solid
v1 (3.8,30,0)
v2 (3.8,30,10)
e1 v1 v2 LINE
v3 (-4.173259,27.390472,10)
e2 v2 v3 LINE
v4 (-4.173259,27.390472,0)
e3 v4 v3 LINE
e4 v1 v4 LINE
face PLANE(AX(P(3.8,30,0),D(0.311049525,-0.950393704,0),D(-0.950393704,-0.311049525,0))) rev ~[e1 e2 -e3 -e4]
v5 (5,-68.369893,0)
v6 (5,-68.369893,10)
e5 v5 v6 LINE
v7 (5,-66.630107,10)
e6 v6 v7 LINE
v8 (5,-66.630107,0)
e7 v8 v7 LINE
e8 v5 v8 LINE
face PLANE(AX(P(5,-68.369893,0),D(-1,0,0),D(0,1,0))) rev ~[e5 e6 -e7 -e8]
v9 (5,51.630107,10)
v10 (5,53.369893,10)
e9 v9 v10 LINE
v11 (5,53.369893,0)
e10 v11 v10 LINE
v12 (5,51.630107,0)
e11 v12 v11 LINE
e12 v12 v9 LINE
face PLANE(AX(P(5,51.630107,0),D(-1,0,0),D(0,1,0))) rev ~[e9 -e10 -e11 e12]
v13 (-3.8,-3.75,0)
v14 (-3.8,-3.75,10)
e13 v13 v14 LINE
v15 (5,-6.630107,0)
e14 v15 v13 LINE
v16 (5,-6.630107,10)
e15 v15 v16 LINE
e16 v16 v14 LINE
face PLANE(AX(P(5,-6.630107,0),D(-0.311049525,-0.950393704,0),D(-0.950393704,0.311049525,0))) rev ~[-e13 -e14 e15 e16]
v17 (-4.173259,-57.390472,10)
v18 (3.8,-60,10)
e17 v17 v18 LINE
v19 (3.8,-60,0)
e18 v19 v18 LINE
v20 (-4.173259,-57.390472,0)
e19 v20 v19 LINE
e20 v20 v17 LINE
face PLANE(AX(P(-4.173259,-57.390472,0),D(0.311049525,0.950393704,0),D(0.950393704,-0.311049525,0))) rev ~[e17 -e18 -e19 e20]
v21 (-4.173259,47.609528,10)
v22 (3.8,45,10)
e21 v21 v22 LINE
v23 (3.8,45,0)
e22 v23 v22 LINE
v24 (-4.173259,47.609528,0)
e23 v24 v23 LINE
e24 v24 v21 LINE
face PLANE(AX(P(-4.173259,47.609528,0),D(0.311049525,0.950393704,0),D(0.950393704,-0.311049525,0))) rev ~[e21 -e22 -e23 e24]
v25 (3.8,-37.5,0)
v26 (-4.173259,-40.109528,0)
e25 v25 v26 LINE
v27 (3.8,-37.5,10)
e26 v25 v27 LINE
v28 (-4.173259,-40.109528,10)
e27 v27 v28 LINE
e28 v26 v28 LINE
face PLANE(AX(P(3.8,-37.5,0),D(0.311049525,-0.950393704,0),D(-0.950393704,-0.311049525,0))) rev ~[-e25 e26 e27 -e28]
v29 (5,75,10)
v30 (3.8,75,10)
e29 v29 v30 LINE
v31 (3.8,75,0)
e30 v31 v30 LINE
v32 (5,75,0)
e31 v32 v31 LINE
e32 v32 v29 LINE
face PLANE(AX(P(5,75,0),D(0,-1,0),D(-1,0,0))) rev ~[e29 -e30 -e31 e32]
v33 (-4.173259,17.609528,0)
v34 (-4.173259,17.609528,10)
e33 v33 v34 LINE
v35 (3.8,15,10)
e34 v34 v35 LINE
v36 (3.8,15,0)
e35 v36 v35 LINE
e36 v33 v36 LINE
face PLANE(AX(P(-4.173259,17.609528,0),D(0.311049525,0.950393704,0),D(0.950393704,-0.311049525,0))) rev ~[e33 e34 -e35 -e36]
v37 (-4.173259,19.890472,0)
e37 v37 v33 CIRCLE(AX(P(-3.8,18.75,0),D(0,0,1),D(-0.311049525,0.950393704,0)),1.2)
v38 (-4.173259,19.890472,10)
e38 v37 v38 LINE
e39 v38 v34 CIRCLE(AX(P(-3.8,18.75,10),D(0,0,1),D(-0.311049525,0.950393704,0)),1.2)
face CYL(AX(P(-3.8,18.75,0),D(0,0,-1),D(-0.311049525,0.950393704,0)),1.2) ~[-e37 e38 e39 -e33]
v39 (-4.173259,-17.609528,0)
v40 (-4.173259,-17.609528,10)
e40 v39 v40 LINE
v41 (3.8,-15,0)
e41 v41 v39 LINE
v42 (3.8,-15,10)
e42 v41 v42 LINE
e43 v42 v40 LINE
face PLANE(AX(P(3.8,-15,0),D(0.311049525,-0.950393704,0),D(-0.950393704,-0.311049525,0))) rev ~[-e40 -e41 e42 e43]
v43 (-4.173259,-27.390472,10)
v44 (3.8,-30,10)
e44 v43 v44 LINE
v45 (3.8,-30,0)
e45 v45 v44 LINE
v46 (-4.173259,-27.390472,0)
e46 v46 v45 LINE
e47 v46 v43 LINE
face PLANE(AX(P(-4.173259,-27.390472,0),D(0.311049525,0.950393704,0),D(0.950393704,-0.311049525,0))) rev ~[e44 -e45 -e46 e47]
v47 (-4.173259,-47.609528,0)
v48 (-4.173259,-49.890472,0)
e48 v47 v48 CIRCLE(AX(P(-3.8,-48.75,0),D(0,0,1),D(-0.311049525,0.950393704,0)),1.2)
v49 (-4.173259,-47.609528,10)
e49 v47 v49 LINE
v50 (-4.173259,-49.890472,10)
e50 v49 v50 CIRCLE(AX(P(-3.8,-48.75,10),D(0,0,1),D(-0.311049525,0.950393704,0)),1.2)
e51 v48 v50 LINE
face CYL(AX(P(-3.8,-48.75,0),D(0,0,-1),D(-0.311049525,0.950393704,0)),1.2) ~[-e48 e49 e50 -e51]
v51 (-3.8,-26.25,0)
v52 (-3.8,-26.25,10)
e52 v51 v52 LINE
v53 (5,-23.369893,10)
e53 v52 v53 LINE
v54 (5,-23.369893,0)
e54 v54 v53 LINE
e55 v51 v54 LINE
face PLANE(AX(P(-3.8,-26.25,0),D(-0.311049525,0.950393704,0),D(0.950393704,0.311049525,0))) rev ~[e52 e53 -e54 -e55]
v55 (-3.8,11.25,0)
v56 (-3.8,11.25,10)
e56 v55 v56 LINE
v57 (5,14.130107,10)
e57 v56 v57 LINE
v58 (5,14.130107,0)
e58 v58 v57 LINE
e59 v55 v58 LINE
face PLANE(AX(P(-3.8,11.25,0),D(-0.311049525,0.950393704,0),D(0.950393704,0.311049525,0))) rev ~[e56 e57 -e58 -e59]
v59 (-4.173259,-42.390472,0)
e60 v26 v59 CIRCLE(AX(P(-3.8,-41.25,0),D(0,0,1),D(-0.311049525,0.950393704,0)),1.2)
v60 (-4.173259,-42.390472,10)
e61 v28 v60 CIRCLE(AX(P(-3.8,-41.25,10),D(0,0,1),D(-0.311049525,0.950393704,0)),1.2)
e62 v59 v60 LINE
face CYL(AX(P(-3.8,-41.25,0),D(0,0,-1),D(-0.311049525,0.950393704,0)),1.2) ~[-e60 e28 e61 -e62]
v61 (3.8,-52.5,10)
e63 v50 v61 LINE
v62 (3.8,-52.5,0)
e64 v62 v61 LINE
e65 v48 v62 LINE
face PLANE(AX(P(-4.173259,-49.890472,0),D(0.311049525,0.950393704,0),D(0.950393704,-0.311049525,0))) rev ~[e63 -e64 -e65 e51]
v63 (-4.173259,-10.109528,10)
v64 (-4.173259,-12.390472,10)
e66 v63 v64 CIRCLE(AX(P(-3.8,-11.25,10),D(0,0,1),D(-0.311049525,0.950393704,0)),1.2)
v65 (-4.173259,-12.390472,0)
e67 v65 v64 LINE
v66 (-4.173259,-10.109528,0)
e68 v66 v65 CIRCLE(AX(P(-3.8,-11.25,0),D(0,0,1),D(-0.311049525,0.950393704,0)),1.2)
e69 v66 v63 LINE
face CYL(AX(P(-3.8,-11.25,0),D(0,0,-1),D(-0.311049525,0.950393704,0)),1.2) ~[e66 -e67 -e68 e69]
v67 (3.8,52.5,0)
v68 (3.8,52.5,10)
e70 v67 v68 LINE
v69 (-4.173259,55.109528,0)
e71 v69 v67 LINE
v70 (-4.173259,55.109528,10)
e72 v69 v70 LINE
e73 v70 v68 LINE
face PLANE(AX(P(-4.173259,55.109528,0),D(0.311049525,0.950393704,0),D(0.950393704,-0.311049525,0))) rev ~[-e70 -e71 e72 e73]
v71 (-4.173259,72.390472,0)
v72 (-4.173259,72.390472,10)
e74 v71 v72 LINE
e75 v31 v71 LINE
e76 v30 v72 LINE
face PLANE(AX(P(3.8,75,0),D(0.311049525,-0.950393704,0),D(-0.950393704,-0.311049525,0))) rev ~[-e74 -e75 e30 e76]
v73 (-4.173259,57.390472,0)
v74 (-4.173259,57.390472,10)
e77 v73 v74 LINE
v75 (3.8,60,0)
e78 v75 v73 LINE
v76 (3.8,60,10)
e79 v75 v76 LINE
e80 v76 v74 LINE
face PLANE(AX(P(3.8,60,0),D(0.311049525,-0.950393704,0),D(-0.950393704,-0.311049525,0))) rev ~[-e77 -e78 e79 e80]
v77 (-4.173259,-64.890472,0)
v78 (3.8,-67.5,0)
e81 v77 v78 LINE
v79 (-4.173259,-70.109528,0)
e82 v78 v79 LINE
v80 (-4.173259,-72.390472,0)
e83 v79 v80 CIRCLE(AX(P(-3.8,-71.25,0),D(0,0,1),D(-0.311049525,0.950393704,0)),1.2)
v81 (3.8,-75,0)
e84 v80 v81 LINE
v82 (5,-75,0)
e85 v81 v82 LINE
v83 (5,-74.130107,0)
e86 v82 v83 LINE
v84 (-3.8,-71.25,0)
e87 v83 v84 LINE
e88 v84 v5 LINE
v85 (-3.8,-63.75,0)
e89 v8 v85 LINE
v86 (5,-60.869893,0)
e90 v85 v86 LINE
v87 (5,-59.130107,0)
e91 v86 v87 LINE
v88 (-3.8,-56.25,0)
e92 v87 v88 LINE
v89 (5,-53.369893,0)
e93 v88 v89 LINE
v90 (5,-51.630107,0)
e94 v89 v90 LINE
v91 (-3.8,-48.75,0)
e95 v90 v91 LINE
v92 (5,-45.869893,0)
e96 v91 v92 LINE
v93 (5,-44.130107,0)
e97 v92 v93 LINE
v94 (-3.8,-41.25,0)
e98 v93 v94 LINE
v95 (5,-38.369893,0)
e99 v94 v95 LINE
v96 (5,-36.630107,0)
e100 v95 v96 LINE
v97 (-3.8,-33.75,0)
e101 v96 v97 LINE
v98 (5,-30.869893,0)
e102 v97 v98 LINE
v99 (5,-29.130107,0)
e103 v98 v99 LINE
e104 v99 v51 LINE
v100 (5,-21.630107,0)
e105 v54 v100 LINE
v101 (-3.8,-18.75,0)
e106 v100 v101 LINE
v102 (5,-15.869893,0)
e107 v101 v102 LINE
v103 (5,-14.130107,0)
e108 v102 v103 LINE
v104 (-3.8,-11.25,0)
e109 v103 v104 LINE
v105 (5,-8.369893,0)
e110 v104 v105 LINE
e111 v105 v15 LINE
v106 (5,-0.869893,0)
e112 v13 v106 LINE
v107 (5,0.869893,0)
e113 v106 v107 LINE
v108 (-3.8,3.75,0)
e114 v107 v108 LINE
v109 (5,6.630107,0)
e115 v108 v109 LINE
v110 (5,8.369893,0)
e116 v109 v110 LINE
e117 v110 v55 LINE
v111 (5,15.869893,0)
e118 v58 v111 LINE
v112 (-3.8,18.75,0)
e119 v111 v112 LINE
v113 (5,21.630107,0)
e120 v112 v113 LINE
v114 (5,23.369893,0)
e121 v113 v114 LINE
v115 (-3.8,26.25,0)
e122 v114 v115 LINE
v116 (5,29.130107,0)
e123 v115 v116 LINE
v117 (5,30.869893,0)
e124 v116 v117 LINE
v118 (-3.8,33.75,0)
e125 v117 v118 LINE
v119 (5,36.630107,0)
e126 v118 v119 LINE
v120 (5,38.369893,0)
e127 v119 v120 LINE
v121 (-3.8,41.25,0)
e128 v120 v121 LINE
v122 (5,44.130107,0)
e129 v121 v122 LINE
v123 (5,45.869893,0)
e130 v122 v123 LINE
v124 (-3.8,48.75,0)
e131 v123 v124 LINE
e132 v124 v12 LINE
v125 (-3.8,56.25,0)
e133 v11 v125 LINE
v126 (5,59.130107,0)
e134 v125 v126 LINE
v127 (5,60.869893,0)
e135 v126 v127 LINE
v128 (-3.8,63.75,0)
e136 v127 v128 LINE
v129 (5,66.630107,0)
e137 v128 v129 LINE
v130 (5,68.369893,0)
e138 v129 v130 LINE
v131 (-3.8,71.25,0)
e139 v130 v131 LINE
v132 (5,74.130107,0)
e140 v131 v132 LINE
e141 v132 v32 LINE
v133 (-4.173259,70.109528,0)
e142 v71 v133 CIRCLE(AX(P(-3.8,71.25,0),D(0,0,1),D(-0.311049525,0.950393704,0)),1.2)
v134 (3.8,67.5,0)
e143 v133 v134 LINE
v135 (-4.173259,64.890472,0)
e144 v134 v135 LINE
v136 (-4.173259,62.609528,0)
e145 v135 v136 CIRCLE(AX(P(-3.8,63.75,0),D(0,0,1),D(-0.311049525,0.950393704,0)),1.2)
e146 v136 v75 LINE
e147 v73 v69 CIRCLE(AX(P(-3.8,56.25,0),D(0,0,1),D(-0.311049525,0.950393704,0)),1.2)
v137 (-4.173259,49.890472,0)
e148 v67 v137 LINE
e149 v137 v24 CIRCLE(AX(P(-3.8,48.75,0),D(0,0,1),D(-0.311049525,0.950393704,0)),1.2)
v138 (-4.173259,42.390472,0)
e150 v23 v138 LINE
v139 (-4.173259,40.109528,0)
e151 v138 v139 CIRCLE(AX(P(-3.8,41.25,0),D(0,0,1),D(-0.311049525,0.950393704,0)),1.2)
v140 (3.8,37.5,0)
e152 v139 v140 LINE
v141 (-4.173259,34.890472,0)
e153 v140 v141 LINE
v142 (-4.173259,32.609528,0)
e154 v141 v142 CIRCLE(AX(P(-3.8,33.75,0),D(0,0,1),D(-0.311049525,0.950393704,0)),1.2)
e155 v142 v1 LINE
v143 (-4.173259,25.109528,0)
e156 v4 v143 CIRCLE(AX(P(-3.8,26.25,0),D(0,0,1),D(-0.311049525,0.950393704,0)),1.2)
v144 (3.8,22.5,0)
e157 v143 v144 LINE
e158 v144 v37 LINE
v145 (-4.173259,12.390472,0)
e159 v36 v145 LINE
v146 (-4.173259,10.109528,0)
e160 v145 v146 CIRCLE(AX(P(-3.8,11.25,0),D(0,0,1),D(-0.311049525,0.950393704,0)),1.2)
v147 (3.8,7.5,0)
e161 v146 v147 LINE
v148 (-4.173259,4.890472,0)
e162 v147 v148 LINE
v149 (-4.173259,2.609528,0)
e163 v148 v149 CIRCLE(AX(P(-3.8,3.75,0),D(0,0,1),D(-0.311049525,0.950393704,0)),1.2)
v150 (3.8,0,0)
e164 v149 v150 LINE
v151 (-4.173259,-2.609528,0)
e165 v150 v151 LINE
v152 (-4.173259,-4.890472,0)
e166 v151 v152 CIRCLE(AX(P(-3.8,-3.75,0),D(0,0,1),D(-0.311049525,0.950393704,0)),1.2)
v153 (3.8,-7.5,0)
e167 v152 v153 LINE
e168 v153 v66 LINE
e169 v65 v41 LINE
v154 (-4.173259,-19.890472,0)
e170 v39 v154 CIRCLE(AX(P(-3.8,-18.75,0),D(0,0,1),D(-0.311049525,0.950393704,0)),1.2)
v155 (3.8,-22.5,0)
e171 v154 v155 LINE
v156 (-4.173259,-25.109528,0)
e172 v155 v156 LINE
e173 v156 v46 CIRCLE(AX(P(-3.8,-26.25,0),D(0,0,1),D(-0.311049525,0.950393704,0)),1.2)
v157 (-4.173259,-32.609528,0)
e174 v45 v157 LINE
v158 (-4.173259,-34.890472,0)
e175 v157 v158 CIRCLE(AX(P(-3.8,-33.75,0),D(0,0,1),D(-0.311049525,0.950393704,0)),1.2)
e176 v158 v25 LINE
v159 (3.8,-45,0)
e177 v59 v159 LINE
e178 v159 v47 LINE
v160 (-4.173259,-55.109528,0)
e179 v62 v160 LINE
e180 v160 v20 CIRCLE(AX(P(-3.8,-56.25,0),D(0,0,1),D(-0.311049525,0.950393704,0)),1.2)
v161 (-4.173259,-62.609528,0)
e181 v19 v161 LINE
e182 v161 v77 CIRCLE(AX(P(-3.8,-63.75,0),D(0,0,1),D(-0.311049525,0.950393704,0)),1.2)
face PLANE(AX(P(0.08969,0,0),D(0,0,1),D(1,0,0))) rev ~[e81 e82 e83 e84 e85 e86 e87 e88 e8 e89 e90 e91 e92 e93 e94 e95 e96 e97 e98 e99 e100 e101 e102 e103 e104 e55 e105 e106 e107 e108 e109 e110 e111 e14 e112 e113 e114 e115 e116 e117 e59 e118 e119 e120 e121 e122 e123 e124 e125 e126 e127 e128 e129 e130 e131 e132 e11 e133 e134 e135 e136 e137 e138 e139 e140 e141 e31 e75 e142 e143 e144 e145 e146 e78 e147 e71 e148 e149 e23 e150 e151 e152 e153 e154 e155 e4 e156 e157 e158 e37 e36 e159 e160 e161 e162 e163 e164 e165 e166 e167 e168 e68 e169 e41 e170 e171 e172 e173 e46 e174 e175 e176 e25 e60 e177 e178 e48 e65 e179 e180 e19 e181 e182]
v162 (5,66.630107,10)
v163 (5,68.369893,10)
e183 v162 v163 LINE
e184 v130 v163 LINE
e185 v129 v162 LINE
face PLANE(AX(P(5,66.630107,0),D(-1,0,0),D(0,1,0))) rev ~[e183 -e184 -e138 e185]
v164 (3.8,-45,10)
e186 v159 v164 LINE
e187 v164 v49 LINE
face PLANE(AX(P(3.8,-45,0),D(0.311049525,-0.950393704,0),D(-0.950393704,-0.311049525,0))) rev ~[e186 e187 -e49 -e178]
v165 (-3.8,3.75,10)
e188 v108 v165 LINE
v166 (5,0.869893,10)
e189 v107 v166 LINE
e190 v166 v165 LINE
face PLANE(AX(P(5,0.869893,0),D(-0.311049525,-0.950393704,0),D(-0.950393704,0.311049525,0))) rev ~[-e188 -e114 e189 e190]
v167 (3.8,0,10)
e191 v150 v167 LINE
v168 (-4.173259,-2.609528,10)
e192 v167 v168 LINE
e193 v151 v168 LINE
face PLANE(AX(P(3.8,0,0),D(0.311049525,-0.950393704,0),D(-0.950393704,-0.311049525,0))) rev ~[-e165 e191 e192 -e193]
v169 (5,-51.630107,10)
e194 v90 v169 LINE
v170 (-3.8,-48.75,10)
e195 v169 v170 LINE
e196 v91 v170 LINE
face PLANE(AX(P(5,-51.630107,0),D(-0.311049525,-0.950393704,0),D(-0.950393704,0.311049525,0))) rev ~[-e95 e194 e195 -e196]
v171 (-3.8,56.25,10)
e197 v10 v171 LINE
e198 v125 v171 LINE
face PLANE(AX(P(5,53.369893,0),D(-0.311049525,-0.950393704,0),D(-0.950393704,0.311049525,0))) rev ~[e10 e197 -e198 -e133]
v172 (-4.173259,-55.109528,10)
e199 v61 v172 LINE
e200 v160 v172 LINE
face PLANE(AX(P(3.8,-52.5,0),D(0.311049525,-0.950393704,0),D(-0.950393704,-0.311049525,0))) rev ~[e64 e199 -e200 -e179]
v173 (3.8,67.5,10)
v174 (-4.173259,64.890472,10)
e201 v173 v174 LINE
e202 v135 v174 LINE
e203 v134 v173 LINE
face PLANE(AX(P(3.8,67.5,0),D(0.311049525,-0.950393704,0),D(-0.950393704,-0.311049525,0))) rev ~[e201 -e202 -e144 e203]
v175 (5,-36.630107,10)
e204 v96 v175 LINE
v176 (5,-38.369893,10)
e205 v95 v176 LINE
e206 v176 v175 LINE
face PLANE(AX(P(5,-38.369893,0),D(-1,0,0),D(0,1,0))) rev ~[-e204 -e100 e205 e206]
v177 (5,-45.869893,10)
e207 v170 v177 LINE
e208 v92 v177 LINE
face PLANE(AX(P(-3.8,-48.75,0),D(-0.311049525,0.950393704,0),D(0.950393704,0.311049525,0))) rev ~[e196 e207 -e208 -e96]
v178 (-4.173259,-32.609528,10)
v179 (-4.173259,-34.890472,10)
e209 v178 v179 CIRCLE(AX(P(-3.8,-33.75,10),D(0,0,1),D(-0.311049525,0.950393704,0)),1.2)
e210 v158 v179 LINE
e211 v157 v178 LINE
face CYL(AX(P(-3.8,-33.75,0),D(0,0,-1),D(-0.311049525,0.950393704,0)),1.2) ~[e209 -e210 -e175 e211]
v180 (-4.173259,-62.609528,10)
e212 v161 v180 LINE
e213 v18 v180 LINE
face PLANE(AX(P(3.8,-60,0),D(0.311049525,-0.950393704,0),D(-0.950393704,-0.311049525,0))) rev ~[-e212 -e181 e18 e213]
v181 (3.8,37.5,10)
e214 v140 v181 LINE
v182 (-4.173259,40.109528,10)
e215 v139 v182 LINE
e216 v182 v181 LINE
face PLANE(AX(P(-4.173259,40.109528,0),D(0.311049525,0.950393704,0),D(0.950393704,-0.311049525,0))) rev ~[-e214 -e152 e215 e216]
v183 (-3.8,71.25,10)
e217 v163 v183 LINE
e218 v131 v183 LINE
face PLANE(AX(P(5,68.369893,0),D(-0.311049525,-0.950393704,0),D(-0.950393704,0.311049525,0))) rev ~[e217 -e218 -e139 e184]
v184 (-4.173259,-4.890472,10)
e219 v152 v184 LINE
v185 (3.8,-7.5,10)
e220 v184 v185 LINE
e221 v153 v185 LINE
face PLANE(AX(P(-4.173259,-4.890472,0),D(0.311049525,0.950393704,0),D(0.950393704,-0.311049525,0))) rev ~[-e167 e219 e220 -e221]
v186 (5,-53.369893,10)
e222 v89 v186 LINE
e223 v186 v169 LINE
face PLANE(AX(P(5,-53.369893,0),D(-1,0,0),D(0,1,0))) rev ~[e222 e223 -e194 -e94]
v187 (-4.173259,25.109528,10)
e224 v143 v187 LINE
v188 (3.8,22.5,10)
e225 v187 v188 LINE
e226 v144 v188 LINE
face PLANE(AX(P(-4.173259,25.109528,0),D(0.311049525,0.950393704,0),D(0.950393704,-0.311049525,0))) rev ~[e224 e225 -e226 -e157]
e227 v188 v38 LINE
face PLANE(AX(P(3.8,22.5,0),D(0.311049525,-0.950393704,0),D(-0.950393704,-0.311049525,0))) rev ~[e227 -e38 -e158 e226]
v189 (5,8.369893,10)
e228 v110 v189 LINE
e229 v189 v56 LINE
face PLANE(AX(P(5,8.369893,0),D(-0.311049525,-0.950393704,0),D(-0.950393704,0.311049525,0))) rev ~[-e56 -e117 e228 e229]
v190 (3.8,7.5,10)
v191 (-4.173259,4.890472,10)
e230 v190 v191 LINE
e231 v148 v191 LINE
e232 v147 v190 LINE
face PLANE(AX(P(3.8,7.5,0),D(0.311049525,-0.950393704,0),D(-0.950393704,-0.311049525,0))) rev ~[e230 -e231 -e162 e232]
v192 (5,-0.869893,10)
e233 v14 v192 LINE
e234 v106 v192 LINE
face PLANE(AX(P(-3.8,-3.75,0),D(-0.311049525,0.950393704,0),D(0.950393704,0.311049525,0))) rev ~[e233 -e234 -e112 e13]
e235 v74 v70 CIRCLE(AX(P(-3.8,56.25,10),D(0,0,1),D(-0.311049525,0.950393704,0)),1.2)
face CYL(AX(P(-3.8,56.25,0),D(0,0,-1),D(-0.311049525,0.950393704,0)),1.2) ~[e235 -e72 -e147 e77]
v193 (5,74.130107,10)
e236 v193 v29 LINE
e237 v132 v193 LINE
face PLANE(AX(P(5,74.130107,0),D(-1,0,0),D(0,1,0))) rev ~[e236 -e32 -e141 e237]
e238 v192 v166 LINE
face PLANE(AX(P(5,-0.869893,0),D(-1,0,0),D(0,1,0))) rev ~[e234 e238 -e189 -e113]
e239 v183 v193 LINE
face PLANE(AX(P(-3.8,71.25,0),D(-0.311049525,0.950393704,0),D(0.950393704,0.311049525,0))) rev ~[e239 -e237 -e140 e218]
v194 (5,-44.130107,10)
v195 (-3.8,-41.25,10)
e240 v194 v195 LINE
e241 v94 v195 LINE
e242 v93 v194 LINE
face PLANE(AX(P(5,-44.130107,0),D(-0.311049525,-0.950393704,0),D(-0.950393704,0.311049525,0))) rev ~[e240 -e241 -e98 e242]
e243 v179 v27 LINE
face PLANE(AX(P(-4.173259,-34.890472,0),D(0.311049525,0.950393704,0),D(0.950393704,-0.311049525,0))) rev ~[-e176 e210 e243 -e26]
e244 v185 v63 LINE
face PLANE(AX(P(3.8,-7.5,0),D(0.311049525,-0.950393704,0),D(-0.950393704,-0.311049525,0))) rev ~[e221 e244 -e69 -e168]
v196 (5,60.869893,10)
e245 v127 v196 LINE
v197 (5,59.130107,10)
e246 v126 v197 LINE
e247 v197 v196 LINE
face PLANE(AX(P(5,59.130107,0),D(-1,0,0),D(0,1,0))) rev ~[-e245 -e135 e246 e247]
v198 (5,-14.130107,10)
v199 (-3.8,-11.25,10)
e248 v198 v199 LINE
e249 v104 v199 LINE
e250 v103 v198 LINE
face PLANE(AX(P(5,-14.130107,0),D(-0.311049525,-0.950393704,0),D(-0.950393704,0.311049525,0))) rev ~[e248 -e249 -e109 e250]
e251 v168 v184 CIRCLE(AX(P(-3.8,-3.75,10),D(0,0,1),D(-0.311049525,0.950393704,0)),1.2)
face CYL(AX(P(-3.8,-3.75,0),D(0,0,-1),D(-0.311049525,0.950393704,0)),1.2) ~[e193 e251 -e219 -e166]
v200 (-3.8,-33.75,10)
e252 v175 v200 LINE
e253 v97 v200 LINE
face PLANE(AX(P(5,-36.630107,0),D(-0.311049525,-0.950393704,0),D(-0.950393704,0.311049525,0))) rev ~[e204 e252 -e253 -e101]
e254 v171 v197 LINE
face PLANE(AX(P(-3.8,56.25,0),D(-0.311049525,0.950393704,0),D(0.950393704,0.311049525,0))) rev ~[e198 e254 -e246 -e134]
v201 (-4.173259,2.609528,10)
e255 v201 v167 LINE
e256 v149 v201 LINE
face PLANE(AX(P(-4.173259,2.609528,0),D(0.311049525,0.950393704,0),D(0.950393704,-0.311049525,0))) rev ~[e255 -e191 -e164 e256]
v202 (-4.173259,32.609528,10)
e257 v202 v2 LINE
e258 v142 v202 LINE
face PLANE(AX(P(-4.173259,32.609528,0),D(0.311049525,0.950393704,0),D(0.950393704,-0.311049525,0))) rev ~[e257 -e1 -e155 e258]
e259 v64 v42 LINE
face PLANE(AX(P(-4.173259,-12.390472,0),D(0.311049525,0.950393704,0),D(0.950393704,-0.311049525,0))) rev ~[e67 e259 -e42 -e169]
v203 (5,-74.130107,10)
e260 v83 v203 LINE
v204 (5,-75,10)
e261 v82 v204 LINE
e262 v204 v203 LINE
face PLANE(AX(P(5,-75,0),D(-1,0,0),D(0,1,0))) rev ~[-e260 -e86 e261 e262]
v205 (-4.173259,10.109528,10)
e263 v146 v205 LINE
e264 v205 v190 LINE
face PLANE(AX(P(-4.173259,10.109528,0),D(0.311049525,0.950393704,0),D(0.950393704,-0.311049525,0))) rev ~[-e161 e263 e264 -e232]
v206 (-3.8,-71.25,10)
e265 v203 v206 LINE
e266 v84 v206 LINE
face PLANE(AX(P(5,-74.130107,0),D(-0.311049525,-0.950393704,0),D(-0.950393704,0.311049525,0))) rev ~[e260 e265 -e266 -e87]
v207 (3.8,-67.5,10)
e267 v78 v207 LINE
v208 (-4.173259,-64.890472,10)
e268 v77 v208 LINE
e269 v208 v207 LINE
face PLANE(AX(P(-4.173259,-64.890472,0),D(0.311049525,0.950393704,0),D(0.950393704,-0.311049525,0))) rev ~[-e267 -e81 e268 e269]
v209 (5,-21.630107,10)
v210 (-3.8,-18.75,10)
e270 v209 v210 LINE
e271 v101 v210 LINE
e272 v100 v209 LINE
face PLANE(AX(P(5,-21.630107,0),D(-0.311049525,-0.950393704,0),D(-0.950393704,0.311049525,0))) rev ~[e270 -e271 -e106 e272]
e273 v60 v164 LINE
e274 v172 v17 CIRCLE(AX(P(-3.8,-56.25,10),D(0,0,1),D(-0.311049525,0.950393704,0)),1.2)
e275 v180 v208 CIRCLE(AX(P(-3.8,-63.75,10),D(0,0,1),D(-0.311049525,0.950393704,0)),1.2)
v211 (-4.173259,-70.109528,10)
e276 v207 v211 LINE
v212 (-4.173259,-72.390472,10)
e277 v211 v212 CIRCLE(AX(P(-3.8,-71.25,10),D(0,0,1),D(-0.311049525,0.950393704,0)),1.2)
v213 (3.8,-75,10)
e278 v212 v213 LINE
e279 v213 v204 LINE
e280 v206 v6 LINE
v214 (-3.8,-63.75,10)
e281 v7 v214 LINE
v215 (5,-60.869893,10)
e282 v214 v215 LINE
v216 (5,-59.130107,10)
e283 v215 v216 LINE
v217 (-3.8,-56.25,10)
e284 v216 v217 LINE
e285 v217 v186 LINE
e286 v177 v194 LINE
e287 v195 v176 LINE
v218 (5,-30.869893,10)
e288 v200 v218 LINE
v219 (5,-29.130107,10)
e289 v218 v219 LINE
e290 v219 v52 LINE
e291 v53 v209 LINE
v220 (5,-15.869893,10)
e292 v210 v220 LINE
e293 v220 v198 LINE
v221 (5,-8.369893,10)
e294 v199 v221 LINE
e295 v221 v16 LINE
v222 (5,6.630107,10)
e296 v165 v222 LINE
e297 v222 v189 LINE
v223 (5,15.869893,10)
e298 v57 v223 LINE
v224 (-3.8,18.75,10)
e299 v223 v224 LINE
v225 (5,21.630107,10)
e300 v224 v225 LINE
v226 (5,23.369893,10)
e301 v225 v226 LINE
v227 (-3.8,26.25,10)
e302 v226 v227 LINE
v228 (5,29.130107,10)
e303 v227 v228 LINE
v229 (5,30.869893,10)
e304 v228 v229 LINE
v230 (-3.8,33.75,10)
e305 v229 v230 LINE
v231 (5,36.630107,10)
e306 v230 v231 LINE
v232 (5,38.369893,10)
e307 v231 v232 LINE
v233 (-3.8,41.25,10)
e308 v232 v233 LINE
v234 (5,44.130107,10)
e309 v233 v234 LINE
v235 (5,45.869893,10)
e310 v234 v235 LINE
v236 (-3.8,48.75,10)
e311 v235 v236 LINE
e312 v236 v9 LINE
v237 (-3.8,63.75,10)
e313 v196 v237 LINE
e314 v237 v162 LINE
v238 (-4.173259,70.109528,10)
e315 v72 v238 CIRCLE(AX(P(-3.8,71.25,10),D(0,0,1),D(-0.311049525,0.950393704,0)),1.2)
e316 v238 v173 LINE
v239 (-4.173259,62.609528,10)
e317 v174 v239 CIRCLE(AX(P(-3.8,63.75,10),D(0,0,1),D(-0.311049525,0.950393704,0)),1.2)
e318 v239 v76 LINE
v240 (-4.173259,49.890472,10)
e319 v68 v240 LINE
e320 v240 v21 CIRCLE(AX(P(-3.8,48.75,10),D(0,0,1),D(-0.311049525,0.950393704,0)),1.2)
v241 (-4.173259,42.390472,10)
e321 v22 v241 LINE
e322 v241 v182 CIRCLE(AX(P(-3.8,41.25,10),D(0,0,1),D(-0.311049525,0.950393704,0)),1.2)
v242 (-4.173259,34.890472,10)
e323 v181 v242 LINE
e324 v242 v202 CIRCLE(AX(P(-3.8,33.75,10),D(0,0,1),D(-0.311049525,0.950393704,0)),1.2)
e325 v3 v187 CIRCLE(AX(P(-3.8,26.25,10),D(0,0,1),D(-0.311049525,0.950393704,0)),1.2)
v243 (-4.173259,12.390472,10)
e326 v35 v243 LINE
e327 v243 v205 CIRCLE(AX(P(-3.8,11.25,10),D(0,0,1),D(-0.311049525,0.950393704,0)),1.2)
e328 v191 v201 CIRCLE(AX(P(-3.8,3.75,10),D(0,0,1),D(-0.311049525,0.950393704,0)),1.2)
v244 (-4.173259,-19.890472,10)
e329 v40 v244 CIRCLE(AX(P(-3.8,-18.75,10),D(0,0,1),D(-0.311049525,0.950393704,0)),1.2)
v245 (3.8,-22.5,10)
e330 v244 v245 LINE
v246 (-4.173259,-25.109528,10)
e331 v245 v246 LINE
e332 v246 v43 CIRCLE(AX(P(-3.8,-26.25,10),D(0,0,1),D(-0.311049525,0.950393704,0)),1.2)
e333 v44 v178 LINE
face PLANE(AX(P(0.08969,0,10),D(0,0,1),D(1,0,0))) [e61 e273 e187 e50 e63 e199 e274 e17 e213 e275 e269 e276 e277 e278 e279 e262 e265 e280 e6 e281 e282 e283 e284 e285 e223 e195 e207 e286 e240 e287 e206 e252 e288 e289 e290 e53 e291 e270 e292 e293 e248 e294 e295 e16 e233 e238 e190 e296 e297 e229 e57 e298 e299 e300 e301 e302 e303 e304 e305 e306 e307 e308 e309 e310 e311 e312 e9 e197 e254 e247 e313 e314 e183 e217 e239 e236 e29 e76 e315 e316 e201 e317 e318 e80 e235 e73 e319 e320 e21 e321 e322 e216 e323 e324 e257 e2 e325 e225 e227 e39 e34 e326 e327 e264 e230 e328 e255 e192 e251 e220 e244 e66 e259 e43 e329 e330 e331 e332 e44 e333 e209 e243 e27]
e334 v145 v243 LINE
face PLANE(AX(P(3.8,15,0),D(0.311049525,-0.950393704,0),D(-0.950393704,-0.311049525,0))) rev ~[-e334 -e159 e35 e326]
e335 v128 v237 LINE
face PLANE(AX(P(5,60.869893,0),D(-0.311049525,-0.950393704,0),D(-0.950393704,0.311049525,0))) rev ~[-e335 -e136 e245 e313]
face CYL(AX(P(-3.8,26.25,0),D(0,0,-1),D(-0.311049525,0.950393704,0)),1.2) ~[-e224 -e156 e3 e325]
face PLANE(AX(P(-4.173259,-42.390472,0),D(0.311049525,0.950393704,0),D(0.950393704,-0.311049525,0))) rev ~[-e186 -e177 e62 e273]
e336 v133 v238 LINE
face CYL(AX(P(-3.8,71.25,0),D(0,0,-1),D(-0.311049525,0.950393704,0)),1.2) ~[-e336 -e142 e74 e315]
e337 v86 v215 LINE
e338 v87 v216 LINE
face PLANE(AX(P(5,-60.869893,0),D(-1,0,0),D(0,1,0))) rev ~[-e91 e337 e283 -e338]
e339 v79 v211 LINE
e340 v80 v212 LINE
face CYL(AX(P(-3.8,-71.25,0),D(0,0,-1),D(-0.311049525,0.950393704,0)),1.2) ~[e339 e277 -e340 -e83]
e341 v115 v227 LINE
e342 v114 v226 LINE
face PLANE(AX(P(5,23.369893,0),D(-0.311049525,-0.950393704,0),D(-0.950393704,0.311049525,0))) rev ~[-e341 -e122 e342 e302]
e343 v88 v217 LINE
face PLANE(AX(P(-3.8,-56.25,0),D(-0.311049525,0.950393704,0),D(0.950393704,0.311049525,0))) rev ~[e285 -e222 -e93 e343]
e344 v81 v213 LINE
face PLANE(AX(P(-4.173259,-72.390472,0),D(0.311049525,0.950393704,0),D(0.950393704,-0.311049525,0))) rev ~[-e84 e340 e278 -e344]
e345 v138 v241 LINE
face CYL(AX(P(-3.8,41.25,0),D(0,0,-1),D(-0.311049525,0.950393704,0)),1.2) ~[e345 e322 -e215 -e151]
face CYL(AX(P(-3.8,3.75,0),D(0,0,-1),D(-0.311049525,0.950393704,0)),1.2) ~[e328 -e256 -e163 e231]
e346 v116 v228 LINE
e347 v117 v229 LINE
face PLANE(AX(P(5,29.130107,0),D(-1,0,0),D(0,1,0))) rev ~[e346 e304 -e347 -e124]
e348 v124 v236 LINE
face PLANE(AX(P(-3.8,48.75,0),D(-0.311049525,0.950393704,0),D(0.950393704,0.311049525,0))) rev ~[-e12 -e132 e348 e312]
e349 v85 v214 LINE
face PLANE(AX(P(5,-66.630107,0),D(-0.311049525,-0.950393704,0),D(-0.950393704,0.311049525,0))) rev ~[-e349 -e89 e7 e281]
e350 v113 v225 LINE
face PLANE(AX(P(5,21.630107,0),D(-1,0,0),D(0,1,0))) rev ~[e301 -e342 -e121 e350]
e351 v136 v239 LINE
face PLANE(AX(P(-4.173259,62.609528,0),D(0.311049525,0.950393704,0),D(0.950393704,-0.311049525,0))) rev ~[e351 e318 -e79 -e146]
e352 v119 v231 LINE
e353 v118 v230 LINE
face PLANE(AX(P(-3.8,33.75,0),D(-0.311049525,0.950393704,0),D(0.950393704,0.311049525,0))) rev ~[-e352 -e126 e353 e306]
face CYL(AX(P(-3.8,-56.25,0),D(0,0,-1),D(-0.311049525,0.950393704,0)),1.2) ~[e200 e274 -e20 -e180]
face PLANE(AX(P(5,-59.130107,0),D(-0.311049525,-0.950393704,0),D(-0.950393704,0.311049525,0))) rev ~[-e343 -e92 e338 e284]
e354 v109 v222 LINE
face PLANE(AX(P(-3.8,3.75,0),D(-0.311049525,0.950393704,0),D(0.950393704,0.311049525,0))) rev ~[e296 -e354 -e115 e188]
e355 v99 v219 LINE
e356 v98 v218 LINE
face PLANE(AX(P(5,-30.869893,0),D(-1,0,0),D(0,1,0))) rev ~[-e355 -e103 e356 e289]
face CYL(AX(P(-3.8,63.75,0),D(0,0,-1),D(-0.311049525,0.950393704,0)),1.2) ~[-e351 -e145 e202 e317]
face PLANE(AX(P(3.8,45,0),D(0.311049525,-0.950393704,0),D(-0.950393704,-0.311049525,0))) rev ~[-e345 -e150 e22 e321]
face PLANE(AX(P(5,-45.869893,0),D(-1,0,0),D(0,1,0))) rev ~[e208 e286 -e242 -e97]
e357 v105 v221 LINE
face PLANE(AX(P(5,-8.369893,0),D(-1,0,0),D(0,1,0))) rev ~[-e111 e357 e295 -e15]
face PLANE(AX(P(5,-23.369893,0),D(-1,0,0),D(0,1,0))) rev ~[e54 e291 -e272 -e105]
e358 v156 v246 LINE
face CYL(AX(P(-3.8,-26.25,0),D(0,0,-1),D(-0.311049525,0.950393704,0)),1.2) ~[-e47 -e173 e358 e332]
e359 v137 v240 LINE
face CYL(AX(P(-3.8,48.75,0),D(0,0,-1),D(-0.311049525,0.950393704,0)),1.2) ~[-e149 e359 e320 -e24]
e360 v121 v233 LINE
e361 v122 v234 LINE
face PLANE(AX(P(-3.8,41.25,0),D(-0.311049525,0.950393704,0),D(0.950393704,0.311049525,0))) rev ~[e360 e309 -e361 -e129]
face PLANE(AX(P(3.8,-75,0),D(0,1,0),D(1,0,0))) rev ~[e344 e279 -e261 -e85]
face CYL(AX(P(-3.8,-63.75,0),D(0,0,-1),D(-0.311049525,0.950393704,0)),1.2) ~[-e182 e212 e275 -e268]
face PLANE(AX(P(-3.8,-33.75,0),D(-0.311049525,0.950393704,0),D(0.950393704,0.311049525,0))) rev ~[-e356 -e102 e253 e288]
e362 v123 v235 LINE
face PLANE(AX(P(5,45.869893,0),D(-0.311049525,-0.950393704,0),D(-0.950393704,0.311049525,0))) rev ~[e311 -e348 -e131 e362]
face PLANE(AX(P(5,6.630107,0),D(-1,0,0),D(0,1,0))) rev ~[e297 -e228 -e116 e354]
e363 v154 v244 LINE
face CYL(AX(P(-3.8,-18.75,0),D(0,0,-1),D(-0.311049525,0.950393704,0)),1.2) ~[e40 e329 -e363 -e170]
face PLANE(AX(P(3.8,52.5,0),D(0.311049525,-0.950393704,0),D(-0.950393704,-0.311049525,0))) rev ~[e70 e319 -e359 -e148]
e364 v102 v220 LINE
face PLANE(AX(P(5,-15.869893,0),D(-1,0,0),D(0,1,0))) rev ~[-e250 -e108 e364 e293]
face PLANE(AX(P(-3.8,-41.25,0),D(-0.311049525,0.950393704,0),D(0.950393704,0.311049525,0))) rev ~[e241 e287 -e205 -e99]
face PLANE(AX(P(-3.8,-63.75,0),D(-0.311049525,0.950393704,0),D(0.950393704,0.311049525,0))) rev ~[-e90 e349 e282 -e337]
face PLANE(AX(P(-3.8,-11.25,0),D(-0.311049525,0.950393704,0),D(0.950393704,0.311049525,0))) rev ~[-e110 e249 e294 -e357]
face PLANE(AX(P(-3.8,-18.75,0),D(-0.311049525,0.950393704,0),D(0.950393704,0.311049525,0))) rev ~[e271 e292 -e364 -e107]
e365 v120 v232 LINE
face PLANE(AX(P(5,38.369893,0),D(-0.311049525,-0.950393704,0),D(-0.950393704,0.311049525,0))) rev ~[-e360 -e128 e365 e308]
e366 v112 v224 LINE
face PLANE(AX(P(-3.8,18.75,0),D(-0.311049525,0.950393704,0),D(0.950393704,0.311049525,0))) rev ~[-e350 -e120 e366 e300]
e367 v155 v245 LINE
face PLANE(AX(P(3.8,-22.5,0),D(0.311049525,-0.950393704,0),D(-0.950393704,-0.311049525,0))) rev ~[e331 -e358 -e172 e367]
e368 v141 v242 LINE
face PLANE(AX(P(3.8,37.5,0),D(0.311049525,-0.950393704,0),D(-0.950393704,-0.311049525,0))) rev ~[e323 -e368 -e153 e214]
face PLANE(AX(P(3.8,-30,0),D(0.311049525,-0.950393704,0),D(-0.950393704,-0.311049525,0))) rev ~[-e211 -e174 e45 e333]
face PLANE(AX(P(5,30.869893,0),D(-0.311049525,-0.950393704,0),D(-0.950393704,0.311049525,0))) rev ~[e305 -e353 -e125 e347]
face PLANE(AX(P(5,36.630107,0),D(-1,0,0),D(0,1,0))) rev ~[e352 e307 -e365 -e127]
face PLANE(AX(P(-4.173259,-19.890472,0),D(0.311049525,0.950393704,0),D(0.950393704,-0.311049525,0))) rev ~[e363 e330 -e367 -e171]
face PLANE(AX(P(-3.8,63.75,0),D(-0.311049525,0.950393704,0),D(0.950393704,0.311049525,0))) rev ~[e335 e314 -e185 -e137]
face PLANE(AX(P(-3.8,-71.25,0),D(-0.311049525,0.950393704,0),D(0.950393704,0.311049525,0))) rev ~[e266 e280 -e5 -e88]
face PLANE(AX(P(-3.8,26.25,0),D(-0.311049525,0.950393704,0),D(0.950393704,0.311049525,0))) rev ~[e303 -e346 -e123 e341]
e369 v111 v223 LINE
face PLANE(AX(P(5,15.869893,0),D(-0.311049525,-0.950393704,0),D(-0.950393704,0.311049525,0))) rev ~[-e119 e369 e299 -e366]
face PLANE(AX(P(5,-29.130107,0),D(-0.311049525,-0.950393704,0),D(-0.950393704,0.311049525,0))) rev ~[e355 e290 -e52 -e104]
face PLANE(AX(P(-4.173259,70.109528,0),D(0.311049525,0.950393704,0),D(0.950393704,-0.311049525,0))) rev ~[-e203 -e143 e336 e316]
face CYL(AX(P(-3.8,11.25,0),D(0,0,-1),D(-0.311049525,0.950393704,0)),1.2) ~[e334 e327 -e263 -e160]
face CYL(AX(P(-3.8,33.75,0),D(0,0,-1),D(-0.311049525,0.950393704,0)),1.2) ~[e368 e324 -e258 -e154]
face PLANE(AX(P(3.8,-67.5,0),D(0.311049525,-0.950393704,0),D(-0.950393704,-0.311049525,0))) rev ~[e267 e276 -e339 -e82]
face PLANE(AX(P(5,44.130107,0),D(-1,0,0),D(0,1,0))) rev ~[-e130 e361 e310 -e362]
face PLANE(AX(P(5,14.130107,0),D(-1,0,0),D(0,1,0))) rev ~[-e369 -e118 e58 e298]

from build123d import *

# Parameters (mm, degrees)
BOSS_EXTRUDE1_DEPTH = 10


with BuildPart() as part:
    # Sketch1 → Boss-Extrude1 (new body)
    with BuildSketch(Plane.XY):
        with BuildLine():
            Line((5, 74.130107274), (5, 75))
            Line((5, 75), (3.8, 75))
            Line((3.8, 75), (-4.17325943, 72.390472445))
            ThreePointArc((-4.17325943, 72.390472445), (-5, 71.25), (-4.17325943, 70.109527555))
            Line((-4.17325943, 70.109527555), (3.8, 67.5))
            Line((3.8, 67.5), (-4.17325943, 64.890472445))
            ThreePointArc((-4.17325943, 64.890472445), (-5, 63.75), (-4.17325943, 62.609527555))
            Line((-4.17325943, 62.609527555), (3.8, 60))
            Line((3.8, 60), (-4.17325943, 57.390472445))
            ThreePointArc((-4.17325943, 57.390472445), (-5, 56.25), (-4.17325943, 55.109527555))
            Line((-4.17325943, 55.109527555), (3.8, 52.5))
            Line((3.8, 52.5), (-4.17325943, 49.890472445))
            ThreePointArc((-4.17325943, 49.890472445), (-5, 48.75), (-4.17325943, 47.609527555))
            Line((-4.17325943, 47.609527555), (3.8, 45))
            Line((3.8, 45), (-4.17325943, 42.390472445))
            ThreePointArc((-4.17325943, 42.390472445), (-5, 41.25), (-4.17325943, 40.109527555))
            Line((-4.17325943, 40.109527555), (3.8, 37.5))
            Line((3.8, 37.5), (-4.17325943, 34.890472445))
            ThreePointArc((-4.17325943, 34.890472445), (-5, 33.75), (-4.17325943, 32.609527555))
            Line((-4.17325943, 32.609527555), (3.8, 30))
            Line((3.8, 30), (-4.17325943, 27.390472445))
            ThreePointArc((-4.17325943, 27.390472445), (-5, 26.25), (-4.17325943, 25.109527555))
            Line((-4.17325943, 25.109527555), (3.8, 22.5))
            Line((3.8, 22.5), (-4.17325943, 19.890472445))
            ThreePointArc((-4.17325943, 19.890472445), (-5, 18.75), (-4.17325943, 17.609527555))
            Line((-4.17325943, 17.609527555), (3.8, 15))
            Line((3.8, 15), (-4.17325943, 12.390472445))
            ThreePointArc((-4.17325943, 12.390472445), (-5, 11.25), (-4.17325943, 10.109527555))
            Line((-4.17325943, 10.109527555), (3.8, 7.5))
            Line((3.8, 7.5), (-4.17325943, 4.890472445))
            ThreePointArc((-4.17325943, 4.890472445), (-5, 3.75), (-4.17325943, 2.609527555))
            Line((-4.17325943, 2.609527555), (3.8, 0))
            Line((3.8, 0), (-4.17325943, -2.609527555))
            ThreePointArc((-4.17325943, -2.609527555), (-5, -3.75), (-4.17325943, -4.890472445))
            Line((-4.17325943, -4.890472445), (3.8, -7.5))
            Line((3.8, -7.5), (-4.17325943, -10.109527555))
            ThreePointArc((-4.17325943, -10.109527555), (-5, -11.25), (-4.17325943, -12.390472445))
            Line((-4.17325943, -12.390472445), (3.8, -15))
            Line((3.8, -15), (-4.17325943, -17.609527555))
            ThreePointArc((-4.17325943, -17.609527555), (-5, -18.75), (-4.17325943, -19.890472445))
            Line((-4.17325943, -19.890472445), (3.8, -22.5))
            Line((3.8, -22.5), (-4.17325943, -25.109527555))
            ThreePointArc((-4.17325943, -25.109527555), (-5, -26.25), (-4.17325943, -27.390472445))
            Line((-4.17325943, -27.390472445), (3.8, -30))
            Line((3.8, -30), (-4.17325943, -32.609527555))
            ThreePointArc((-4.17325943, -32.609527555), (-5, -33.75), (-4.17325943, -34.890472445))
            Line((-4.17325943, -34.890472445), (3.8, -37.5))
            Line((3.8, -37.5), (-4.17325943, -40.109527555))
            ThreePointArc((-4.17325943, -40.109527555), (-5, -41.25), (-4.17325943, -42.390472445))
            Line((-4.17325943, -42.390472445), (3.8, -45))
            Line((3.8, -45), (-4.17325943, -47.609527555))
            ThreePointArc((-4.17325943, -47.609527555), (-5, -48.75), (-4.17325943, -49.890472445))
            Line((-4.17325943, -49.890472445), (3.8, -52.5))
            Line((3.8, -52.5), (-4.17325943, -55.109527555))
            ThreePointArc((-4.17325943, -55.109527555), (-5, -56.25), (-4.17325943, -57.390472445))
            Line((-4.17325943, -57.390472445), (3.8, -60))
            Line((3.8, -60), (-4.17325943, -62.609527555))
            ThreePointArc((-4.17325943, -62.609527555), (-5, -63.75), (-4.17325943, -64.890472445))
            Line((-4.17325943, -64.890472445), (3.8, -67.5))
            Line((3.8, -67.5), (-4.17325943, -70.109527555))
            ThreePointArc((-4.17325943, -70.109527555), (-5, -71.25), (-4.17325943, -72.390472445))
            Line((-4.17325943, -72.390472445), (3.8, -75))
            Line((3.8, -75), (5, -75))
            Line((5, -75), (5, -74.130107274))
            Line((5, -74.130107274), (-3.8, -71.25))
            Line((-3.8, -71.25), (5, -68.369892726))
            Line((5, -68.369892726), (5, -67.5))
            Line((5, -67.5), (5, -66.630107274))
            Line((5, -66.630107274), (-3.8, -63.75))
            Line((-3.8, -63.75), (5, -60.869892726))
            Line((5, -60.869892726), (5, -60))
            Line((5, -60), (5, -59.130107274))
            Line((5, -59.130107274), (-3.8, -56.25))
            Line((-3.8, -56.25), (5, -53.369892726))
            Line((5, -53.369892726), (5, -52.5))
            Line((5, -52.5), (5, -51.630107274))
            Line((5, -51.630107274), (-3.8, -48.75))
            Line((-3.8, -48.75), (5, -45.869892726))
            Line((5, -45.869892726), (5, -45))
            Line((5, -45), (5, -44.130107274))
            Line((5, -44.130107274), (-3.8, -41.25))
            Line((-3.8, -41.25), (5, -38.369892726))
            Line((5, -38.369892726), (5, -37.5))
            Line((5, -37.5), (5, -36.630107274))
            Line((5, -36.630107274), (-3.8, -33.75))
            Line((-3.8, -33.75), (5, -30.869892726))
            Line((5, -30.869892726), (5, -30))
            Line((5, -30), (5, -29.130107274))
            Line((5, -29.130107274), (-3.8, -26.25))
            Line((-3.8, -26.25), (5, -23.369892726))
            Line((5, -23.369892726), (5, -22.5))
            Line((5, -22.5), (5, -21.630107274))
            Line((5, -21.630107274), (-3.8, -18.75))
            Line((-3.8, -18.75), (5, -15.869892726))
            Line((5, -15.869892726), (5, -15))
            Line((5, -15), (5, -14.130107274))
            Line((5, -14.130107274), (-3.8, -11.25))
            Line((-3.8, -11.25), (5, -8.369892726))
            Line((5, -8.369892726), (5, -7.5))
            Line((5, -7.5), (5, -6.630107274))
            Line((5, -6.630107274), (-3.8, -3.75))
            Line((-3.8, -3.75), (5, -0.869892726))
            Line((5, -0.869892726), (5, 0))
            Line((5, 0), (5, 0.869892726))
            Line((5, 0.869892726), (-3.8, 3.75))
            Line((-3.8, 3.75), (5, 6.630107274))
            Line((5, 6.630107274), (5, 7.5))
            Line((5, 7.5), (5, 8.369892726))
            Line((5, 8.369892726), (-3.8, 11.25))
            Line((-3.8, 11.25), (5, 14.130107274))
            Line((5, 14.130107274), (5, 15))
            Line((5, 15), (5, 15.869892726))
            Line((5, 15.869892726), (-3.8, 18.75))
            Line((-3.8, 18.75), (5, 21.630107274))
            Line((5, 21.630107274), (5, 22.5))
            Line((5, 22.5), (5, 23.369892726))
            Line((5, 23.369892726), (-3.8, 26.25))
            Line((-3.8, 26.25), (5, 29.130107274))
            Line((5, 29.130107274), (5, 30))
            Line((5, 30), (5, 30.869892726))
            Line((5, 30.869892726), (-3.8, 33.75))
            Line((-3.8, 33.75), (5, 36.630107274))
            Line((5, 36.630107274), (5, 37.5))
            Line((5, 37.5), (5, 38.369892726))
            Line((5, 38.369892726), (-3.8, 41.25))
            Line((-3.8, 41.25), (5, 44.130107274))
            Line((5, 44.130107274), (5, 45))
            Line((5, 45), (5, 45.869892726))
            Line((5, 45.869892726), (-3.8, 48.75))
            Line((-3.8, 48.75), (5, 51.630107274))
            Line((5, 51.630107274), (5, 52.5))
            Line((5, 52.5), (5, 53.369892726))
            Line((5, 53.369892726), (-3.8, 56.25))
            Line((-3.8, 56.25), (5, 59.130107274))
            Line((5, 59.130107274), (5, 60))
            Line((5, 60), (5, 60.869892726))
            Line((5, 60.869892726), (-3.8, 63.75))
            Line((-3.8, 63.75), (5, 66.630107274))
            Line((5, 66.630107274), (5, 67.5))
            Line((5, 67.5), (5, 68.369892726))
            Line((5, 68.369892726), (-3.8, 71.25))
            Line((-3.8, 71.25), (5, 74.130107274))
        make_face()
    extrude(amount=BOSS_EXTRUDE1_DEPTH)


solid = part.part
